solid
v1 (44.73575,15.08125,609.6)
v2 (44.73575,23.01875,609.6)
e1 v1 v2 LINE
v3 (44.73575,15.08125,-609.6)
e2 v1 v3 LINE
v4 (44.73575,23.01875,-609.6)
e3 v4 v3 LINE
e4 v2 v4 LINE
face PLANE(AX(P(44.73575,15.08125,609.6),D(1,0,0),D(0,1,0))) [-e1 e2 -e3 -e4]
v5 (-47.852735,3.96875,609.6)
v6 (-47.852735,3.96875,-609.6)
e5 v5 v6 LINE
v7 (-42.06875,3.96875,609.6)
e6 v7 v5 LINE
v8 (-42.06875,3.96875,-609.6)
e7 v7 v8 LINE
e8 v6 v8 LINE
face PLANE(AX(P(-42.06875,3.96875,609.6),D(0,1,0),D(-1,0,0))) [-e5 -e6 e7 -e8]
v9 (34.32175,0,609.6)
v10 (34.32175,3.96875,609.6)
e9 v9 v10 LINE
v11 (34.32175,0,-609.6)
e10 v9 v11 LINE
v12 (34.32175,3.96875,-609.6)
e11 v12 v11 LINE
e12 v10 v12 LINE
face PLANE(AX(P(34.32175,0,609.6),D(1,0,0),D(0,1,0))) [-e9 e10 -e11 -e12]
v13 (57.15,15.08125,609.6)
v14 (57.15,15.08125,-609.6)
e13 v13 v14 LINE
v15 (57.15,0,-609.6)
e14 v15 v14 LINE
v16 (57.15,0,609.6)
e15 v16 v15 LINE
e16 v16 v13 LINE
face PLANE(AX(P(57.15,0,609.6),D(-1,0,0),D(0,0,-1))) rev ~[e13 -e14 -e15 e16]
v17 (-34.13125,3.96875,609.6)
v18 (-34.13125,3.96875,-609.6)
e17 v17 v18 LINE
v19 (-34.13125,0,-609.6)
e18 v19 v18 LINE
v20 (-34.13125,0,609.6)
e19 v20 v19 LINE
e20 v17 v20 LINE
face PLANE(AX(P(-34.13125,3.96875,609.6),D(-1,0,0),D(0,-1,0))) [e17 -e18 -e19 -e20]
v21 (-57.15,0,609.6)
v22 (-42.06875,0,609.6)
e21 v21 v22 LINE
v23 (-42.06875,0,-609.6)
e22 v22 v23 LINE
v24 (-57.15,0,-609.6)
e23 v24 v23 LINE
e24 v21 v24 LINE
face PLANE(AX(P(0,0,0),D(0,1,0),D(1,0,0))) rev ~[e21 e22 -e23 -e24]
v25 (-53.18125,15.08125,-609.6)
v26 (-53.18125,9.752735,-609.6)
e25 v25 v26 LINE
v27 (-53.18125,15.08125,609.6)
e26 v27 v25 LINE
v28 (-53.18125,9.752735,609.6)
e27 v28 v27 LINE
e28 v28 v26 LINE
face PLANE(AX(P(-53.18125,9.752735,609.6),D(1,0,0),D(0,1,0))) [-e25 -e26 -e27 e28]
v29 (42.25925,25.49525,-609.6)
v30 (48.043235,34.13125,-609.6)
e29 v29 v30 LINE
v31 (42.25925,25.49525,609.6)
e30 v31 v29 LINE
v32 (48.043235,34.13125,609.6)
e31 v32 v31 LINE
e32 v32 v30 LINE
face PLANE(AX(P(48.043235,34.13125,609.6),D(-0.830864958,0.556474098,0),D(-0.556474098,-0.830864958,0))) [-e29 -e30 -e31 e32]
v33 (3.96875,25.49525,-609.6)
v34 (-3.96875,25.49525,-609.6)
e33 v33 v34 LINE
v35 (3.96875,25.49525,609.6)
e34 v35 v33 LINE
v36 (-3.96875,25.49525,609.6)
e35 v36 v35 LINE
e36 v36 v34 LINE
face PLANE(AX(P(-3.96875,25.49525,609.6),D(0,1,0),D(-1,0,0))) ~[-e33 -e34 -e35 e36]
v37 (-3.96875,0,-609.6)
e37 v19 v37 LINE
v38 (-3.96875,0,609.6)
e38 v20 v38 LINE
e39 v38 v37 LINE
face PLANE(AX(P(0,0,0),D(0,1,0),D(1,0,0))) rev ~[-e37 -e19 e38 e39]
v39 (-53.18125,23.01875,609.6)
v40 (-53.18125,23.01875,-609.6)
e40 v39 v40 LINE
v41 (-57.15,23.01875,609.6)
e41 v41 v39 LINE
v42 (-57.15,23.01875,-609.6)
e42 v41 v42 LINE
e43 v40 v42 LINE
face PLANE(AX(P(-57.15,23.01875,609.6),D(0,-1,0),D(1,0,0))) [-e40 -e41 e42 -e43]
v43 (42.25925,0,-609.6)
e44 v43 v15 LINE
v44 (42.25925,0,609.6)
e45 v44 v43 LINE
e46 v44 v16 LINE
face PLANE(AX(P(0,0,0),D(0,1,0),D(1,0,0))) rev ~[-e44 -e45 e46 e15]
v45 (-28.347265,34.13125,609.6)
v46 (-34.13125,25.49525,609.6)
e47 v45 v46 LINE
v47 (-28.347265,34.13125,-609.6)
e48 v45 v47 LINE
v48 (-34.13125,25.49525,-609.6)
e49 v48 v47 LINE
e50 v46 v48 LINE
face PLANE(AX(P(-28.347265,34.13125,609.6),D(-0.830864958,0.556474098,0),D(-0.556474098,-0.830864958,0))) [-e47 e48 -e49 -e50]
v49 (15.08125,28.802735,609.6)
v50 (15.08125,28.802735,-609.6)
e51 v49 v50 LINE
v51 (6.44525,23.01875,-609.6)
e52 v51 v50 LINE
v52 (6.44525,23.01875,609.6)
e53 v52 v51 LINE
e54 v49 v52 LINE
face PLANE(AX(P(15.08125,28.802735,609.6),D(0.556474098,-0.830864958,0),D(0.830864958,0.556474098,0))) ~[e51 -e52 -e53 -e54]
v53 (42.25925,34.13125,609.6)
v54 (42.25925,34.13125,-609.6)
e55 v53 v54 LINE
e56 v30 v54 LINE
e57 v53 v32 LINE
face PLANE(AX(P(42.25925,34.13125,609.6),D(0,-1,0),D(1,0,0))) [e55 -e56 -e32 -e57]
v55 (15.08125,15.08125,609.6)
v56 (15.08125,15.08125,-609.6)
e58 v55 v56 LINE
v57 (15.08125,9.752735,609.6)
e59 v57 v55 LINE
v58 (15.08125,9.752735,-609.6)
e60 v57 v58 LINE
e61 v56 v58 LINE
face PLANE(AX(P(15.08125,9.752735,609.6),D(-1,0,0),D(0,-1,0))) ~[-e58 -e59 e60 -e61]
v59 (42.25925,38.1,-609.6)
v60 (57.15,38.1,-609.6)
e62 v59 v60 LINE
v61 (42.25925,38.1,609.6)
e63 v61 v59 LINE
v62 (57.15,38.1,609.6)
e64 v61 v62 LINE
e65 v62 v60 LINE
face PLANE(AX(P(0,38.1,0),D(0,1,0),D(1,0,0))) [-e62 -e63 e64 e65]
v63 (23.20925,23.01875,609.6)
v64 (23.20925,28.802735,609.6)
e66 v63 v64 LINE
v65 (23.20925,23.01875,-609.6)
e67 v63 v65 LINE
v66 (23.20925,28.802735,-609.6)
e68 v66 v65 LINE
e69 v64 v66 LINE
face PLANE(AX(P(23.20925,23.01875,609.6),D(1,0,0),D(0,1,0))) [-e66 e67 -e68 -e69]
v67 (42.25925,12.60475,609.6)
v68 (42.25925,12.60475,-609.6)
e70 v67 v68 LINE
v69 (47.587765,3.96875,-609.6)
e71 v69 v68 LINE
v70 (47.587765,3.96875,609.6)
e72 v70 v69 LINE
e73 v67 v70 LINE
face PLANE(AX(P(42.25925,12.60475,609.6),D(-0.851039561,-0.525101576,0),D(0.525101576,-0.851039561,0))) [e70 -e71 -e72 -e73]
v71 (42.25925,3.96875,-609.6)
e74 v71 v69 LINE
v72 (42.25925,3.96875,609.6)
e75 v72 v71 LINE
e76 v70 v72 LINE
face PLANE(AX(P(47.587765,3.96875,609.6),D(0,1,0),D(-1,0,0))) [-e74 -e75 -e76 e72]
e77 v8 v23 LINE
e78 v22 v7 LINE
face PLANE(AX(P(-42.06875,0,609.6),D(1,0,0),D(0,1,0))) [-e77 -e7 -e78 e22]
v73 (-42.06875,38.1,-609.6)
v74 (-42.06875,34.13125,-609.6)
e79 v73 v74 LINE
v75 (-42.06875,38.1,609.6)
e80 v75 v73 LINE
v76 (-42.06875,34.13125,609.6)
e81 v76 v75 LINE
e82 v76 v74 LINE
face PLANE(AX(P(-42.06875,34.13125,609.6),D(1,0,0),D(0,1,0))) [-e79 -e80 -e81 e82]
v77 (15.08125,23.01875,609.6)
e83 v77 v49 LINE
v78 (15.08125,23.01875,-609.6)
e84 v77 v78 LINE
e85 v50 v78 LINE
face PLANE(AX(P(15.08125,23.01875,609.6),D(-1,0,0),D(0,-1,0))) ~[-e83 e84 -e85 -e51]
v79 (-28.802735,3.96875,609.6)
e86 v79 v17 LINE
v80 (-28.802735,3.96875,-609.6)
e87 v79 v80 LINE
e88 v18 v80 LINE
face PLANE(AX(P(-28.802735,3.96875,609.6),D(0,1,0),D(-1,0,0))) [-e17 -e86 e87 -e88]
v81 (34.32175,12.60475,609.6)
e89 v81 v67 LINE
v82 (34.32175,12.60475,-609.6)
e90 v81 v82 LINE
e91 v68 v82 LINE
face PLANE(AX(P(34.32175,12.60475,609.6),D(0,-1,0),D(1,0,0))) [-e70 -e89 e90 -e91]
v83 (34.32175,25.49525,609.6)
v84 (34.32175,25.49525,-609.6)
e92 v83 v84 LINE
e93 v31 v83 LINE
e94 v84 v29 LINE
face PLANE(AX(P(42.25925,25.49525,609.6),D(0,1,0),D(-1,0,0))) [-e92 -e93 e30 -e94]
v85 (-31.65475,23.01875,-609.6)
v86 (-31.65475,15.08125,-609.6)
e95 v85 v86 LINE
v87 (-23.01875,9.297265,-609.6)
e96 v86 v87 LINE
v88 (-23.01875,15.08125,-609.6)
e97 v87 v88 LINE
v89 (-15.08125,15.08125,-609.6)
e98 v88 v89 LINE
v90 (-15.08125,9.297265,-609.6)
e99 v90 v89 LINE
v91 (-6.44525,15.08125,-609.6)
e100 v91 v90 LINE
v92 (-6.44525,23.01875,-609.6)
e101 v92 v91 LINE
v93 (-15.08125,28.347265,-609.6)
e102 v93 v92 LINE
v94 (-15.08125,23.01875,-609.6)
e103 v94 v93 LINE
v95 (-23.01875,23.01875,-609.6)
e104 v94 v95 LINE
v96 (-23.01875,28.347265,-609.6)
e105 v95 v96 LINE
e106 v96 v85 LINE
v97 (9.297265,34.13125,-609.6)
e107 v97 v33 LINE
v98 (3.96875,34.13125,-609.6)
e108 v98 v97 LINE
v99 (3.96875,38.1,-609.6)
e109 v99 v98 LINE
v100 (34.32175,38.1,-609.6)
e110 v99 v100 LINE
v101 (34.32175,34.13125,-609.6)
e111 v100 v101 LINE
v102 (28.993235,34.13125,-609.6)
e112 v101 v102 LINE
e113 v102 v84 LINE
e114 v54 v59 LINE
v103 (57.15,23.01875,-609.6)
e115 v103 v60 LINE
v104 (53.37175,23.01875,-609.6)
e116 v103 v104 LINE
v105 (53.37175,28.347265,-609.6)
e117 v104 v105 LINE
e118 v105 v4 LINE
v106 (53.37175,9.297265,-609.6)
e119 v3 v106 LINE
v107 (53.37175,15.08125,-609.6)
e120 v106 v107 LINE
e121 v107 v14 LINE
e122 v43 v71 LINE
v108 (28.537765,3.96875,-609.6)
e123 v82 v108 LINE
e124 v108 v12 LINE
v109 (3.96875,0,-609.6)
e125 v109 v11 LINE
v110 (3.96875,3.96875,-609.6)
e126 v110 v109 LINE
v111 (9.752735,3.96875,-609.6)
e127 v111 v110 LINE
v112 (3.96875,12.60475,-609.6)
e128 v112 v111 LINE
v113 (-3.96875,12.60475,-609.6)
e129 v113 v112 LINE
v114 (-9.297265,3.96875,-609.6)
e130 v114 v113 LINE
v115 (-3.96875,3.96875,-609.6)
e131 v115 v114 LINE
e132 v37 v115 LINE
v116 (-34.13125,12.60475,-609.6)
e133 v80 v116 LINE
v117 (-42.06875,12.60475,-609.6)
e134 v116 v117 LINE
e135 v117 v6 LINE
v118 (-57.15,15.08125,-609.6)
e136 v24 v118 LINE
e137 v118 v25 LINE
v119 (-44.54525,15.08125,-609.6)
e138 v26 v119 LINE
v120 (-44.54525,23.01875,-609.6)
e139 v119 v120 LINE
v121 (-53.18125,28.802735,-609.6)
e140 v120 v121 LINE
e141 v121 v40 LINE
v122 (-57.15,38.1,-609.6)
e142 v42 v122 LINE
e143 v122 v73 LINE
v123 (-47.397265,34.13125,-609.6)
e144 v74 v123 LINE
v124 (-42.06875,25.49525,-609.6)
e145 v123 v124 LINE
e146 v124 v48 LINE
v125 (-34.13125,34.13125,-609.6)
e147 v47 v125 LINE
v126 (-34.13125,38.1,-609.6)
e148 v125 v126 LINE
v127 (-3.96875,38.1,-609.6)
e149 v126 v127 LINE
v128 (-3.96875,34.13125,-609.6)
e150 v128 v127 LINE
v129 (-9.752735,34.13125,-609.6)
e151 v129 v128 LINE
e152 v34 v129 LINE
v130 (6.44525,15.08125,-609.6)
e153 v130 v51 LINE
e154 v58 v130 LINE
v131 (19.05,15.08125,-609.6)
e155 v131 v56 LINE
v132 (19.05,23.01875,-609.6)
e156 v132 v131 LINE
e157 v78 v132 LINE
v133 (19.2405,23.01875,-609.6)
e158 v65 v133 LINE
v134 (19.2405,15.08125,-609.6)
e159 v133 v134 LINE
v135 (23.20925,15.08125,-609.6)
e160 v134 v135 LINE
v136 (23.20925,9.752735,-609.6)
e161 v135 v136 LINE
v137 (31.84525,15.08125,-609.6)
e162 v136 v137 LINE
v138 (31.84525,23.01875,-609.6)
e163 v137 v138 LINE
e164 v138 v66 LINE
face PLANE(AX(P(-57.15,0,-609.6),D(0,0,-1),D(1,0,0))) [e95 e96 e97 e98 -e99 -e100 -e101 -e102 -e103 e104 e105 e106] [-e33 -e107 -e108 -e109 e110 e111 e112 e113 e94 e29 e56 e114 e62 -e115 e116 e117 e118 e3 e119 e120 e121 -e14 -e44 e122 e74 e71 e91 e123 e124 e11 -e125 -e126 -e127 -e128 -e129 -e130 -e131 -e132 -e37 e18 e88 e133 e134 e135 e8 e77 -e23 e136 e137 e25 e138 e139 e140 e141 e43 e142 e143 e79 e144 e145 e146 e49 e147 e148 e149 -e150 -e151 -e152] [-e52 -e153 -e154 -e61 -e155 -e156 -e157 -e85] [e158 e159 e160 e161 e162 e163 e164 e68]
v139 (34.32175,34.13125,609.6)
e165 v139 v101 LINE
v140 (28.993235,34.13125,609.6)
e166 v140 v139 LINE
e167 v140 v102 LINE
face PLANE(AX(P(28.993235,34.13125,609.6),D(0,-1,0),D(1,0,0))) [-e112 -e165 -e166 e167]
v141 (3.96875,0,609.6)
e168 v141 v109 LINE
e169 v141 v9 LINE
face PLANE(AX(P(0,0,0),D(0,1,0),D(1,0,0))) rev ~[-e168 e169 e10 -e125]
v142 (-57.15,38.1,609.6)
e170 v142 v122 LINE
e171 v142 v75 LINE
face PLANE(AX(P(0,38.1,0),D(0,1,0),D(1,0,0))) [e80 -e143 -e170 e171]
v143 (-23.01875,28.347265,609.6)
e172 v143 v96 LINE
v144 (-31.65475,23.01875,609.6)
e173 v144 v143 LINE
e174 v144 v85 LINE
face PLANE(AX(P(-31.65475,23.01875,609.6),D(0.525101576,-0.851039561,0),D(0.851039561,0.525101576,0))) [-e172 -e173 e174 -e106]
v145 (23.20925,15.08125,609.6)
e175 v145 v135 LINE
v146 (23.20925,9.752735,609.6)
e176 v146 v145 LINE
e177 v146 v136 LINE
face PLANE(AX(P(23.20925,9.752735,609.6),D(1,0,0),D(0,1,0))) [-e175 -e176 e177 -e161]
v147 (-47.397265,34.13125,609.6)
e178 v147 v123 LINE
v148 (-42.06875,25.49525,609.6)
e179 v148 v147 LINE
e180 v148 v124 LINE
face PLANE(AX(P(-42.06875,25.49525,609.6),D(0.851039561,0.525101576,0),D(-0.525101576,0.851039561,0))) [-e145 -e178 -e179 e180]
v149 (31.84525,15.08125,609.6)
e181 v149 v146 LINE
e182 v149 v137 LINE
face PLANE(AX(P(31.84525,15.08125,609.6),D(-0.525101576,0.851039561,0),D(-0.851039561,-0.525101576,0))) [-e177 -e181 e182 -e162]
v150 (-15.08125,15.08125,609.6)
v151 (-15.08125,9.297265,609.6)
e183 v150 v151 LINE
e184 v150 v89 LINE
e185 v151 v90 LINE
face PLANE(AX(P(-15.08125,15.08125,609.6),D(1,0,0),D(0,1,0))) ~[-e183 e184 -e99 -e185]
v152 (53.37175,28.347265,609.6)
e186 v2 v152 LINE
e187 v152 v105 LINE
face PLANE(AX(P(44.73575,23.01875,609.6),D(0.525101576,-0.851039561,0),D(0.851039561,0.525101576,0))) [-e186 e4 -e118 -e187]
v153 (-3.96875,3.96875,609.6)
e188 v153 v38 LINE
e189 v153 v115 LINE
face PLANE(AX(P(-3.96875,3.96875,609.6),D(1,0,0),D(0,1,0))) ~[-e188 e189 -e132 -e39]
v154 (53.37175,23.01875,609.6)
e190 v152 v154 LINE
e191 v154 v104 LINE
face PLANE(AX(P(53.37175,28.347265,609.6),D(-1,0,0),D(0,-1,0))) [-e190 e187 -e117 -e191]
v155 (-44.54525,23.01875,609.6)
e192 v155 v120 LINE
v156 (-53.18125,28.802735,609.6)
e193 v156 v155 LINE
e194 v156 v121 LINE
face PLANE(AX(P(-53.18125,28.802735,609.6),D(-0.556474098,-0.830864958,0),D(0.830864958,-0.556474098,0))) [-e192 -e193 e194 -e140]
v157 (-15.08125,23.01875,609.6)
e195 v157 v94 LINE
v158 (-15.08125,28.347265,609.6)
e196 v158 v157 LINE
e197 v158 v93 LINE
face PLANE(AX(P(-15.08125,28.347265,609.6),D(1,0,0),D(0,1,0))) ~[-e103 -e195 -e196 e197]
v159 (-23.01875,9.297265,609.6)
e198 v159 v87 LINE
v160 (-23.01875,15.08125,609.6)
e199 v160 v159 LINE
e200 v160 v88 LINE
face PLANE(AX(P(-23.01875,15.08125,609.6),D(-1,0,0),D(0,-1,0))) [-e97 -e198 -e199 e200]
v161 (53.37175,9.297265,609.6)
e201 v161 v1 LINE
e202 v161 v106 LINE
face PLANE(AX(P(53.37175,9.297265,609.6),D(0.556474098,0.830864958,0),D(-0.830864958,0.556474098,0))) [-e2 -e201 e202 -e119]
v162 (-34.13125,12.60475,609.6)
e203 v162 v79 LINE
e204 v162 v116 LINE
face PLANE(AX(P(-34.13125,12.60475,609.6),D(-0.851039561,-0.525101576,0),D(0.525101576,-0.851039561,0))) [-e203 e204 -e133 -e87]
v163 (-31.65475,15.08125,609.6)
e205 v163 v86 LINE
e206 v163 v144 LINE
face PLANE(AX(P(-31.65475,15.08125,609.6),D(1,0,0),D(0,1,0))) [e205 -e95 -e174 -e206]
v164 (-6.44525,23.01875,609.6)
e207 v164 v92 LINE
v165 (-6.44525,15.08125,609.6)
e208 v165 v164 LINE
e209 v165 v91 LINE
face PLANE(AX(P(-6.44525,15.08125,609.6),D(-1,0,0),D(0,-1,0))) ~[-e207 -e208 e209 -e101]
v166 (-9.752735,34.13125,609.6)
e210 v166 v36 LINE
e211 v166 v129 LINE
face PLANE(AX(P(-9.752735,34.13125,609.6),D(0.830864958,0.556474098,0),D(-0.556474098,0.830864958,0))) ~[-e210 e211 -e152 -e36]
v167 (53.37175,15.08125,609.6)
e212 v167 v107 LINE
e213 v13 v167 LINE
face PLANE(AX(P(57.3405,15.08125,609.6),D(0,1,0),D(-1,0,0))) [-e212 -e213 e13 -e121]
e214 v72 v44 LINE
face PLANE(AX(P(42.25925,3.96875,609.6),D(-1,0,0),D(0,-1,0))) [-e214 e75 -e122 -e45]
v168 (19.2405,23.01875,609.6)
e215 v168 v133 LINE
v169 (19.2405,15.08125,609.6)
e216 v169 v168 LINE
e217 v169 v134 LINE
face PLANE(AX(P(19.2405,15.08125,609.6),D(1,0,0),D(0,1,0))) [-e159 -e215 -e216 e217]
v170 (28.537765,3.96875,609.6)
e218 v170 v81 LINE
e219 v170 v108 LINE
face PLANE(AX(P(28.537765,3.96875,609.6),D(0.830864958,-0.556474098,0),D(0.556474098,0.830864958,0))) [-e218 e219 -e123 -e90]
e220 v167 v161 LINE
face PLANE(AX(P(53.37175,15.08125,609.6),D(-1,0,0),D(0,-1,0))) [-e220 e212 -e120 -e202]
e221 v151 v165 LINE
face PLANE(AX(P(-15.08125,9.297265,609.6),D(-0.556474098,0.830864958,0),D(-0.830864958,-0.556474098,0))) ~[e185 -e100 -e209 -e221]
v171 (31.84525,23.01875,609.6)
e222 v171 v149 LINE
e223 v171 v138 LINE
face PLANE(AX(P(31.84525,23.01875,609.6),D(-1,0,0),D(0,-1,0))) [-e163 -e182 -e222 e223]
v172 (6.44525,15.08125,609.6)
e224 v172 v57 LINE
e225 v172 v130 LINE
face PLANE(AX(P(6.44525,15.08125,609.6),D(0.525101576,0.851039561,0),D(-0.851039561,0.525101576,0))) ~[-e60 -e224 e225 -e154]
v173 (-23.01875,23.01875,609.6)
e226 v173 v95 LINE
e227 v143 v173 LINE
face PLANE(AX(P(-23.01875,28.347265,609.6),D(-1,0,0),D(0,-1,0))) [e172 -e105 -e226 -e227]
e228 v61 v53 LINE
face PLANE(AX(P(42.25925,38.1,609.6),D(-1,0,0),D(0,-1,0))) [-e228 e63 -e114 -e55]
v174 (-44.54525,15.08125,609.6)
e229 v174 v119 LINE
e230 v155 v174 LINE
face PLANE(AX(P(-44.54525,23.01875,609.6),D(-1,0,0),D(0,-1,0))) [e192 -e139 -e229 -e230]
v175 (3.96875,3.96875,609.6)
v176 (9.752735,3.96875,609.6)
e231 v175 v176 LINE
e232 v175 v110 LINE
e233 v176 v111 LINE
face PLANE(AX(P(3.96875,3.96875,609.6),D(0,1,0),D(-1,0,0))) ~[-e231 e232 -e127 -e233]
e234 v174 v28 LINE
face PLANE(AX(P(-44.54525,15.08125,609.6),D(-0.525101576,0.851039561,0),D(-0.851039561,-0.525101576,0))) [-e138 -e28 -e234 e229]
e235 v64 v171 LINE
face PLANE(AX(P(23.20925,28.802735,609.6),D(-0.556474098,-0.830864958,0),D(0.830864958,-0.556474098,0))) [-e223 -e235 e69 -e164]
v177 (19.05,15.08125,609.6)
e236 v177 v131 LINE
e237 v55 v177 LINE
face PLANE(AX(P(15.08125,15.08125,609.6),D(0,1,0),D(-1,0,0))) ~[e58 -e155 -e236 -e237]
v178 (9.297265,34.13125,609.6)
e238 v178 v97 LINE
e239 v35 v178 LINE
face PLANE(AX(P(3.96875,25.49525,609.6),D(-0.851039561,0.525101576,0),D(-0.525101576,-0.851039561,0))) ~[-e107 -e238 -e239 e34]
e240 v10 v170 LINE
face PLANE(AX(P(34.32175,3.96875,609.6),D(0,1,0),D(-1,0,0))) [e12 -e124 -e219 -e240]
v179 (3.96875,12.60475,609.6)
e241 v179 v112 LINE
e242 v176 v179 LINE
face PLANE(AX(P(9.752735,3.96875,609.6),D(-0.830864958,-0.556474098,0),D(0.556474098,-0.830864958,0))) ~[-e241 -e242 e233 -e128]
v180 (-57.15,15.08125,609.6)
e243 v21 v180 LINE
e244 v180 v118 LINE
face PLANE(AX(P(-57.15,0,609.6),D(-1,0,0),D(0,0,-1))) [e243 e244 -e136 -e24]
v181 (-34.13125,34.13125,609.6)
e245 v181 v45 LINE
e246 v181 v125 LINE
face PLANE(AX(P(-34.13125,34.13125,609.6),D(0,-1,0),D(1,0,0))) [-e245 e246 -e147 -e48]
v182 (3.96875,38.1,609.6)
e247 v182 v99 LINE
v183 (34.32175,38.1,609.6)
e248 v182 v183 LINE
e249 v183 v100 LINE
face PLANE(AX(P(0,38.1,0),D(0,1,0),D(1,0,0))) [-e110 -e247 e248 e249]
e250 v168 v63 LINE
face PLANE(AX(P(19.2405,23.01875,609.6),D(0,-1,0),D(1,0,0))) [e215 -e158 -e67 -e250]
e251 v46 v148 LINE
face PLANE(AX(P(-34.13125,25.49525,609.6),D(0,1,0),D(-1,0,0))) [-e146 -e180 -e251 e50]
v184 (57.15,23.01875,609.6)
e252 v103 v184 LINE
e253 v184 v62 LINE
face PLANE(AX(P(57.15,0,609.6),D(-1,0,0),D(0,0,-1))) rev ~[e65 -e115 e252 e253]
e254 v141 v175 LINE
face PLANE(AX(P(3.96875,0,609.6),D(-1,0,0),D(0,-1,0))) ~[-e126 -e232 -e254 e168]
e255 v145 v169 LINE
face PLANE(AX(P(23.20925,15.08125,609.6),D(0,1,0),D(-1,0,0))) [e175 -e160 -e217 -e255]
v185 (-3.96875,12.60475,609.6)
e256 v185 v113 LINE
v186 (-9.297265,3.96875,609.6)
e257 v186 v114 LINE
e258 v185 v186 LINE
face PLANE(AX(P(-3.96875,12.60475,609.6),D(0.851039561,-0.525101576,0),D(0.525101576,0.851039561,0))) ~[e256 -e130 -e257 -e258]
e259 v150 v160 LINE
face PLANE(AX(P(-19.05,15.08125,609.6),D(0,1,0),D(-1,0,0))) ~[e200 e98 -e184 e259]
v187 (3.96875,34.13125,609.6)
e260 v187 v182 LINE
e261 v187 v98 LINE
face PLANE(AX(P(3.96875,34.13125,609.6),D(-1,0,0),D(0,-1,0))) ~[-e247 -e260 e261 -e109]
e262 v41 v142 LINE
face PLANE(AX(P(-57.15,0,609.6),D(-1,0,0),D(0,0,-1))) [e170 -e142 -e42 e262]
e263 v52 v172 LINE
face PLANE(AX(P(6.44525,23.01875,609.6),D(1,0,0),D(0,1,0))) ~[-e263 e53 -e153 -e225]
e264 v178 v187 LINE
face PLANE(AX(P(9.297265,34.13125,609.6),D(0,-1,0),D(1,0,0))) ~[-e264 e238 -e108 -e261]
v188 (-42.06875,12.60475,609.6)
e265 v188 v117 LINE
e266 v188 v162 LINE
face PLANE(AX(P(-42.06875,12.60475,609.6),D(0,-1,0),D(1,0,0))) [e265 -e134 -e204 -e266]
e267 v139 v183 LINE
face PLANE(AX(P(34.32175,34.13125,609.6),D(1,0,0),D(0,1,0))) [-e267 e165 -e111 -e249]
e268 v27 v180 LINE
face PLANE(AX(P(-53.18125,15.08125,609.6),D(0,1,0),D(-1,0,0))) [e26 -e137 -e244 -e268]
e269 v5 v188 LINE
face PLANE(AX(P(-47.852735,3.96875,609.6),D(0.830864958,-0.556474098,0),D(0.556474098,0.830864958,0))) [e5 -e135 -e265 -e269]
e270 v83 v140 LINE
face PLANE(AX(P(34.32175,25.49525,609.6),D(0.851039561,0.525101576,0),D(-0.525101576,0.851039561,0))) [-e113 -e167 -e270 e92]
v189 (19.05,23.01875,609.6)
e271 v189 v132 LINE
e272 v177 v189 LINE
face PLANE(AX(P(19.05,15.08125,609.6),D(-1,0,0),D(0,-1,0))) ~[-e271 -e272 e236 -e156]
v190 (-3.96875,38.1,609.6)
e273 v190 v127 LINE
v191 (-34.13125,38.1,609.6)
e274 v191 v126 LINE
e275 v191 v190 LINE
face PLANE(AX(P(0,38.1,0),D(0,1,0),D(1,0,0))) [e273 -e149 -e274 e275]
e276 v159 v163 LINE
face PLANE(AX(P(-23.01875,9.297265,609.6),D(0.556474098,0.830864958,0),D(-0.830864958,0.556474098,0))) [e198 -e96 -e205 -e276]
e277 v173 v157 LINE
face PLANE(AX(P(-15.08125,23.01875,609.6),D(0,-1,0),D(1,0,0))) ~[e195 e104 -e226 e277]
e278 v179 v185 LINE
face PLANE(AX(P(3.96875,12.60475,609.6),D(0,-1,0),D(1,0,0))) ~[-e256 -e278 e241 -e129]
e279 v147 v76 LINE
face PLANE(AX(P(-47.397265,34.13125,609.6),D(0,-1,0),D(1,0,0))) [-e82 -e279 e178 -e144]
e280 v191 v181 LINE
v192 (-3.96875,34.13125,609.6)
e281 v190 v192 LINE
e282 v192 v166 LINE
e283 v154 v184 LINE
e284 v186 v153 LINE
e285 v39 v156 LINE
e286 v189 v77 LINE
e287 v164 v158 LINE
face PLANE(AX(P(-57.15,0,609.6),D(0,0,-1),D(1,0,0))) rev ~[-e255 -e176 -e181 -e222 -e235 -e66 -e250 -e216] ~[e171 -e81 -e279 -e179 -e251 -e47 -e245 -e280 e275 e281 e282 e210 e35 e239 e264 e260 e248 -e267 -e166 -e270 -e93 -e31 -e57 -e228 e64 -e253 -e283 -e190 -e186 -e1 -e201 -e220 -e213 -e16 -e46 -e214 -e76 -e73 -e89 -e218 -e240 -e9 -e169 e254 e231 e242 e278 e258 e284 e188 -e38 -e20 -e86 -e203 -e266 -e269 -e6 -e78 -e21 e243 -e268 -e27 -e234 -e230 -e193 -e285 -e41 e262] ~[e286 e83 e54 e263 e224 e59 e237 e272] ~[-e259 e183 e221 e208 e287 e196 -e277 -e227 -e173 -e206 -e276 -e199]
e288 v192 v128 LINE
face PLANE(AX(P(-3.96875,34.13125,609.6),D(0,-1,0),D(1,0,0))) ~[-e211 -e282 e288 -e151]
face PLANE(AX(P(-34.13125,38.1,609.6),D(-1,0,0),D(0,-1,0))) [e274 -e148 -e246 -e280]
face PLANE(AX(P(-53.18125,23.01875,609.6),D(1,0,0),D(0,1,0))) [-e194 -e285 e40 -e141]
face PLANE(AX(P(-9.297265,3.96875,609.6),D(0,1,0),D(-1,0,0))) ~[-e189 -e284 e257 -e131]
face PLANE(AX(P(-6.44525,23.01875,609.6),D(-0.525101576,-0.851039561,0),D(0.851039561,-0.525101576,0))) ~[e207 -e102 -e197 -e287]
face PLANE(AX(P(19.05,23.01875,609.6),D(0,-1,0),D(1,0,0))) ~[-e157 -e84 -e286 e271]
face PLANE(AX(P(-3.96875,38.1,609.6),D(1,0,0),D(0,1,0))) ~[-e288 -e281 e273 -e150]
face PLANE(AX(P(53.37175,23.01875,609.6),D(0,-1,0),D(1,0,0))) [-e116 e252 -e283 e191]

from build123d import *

# Parameters (mm, degrees)
SKETCH1_W            = 114.3
SKETCH1_H            = 1219.2
BASE_EXTRUDE_DEPTH   = 38.1
CUT_EXTRUDE1_DEPTH   = 1220.2
MIRROR2_COPY_1_DEPTH = 1220.2
MIRROR2_COPY_2_DEPTH = 1220.2


with BuildPart() as part:
    # Sketch1 → Base Extrude (new body)
    with BuildSketch(Plane(origin=(0, 0, 0), x_dir=(1, 0, 0), z_dir=(0, 1, 0))):
        Rectangle(SKETCH1_W, SKETCH1_H)
    extrude(amount=BASE_EXTRUDE_DEPTH)

    # Sketch3 → Cut-Extrude1 (cut, through all)
    with BuildSketch(Plane.XY.offset(609.6)):
        Polygon((-42.06875, 38.1), (-34.13125, 38.1), (-34.13125, 34.13125), (-28.347265172, 34.13125), (-34.13125, 25.49525), (-42.06875, 25.49525), (-47.397265172, 34.13125), (-42.06875, 34.13125), align=None)
        Polygon((-23.01875, 28.347265172), (-23.01875, 23.01875), (-19.05, 23.01875), (-19.05, 15.08125), (-23.01875, 15.08125), (-23.01875, 9.297265172), (-31.65475, 15.08125), (-31.65475, 23.01875), align=None)
        Polygon((-28.802734828, 3.96875), (-34.13125, 3.96875), (-34.13125, 0), (-42.06875, 0), (-42.06875, 3.96875), (-47.852734828, 3.96875), (-42.06875, 12.60475), (-34.13125, 12.60475), align=None)
        Polygon((-53.18125, 9.752734828), (-53.18125, 15.08125), (-57.15, 15.08125), (-57.15, 23.01875), (-53.18125, 23.01875), (-53.18125, 28.802734828), (-44.54525, 23.01875), (-44.54525, 15.08125), align=None)
    cut_extrude1 = extrude(amount=-CUT_EXTRUDE1_DEPTH, mode=Mode.SUBTRACT)

    # Mirror1: Cut-Extrude1 across plane
    add(cut_extrude1.mirror(Plane.ZY.offset(19.05)), mode=Mode.SUBTRACT)

    # Mirror2 copy 1 sketch → Mirror2 copy 1 (cut, through all)
    with BuildSketch(Plane(origin=(76.3905, 0, 609.6), x_dir=(1, 0, 0), z_dir=(0, 0, 1))):
        Polygon((-42.06875, 38.1), (-34.13125, 38.1), (-34.13125, 34.13125), (-28.347265172, 34.13125), (-34.13125, 25.49525), (-42.06875, 25.49525), (-47.397265172, 34.13125), (-42.06875, 34.13125), align=None)
        Polygon((-23.01875, 28.347265172), (-23.01875, 23.01875), (-19.05, 23.01875), (-19.05, 15.08125), (-23.01875, 15.08125), (-23.01875, 9.297265172), (-31.65475, 15.08125), (-31.65475, 23.01875), align=None)
        Polygon((-28.802734828, 3.96875), (-34.13125, 3.96875), (-34.13125, 0), (-42.06875, 0), (-42.06875, 3.96875), (-47.852734828, 3.96875), (-42.06875, 12.60475), (-34.13125, 12.60475), align=None)
        Polygon((-53.18125, 9.752734828), (-53.18125, 15.08125), (-57.15, 15.08125), (-57.15, 23.01875), (-53.18125, 23.01875), (-53.18125, 28.802734828), (-44.54525, 23.01875), (-44.54525, 15.08125), align=None)
    extrude(amount=-MIRROR2_COPY_1_DEPTH, mode=Mode.SUBTRACT)

    # Mirror2 copy 2 sketch → Mirror2 copy 2 (cut, through all)
    with BuildSketch(Plane(origin=(38.2905, 0, 609.6), x_dir=(-1, 0, 0), z_dir=(0, 0, 1))):
        Polygon((-42.06875, -38.1), (-34.13125, -38.1), (-34.13125, -34.13125), (-28.347265172, -34.13125), (-34.13125, -25.49525), (-42.06875, -25.49525), (-47.397265172, -34.13125), (-42.06875, -34.13125), align=None)
        Polygon((-23.01875, -28.347265172), (-23.01875, -23.01875), (-19.05, -23.01875), (-19.05, -15.08125), (-23.01875, -15.08125), (-23.01875, -9.297265172), (-31.65475, -15.08125), (-31.65475, -23.01875), align=None)
        Polygon((-28.802734828, -3.96875), (-34.13125, -3.96875), (-34.13125, 0), (-42.06875, 0), (-42.06875, -3.96875), (-47.852734828, -3.96875), (-42.06875, -12.60475), (-34.13125, -12.60475), align=None)
        Polygon((-53.18125, -9.752734828), (-53.18125, -15.08125), (-57.15, -15.08125), (-57.15, -23.01875), (-53.18125, -23.01875), (-53.18125, -28.802734828), (-44.54525, -23.01875), (-44.54525, -15.08125), align=None)
    extrude(amount=-MIRROR2_COPY_2_DEPTH, mode=Mode.SUBTRACT)


solid = part.part
